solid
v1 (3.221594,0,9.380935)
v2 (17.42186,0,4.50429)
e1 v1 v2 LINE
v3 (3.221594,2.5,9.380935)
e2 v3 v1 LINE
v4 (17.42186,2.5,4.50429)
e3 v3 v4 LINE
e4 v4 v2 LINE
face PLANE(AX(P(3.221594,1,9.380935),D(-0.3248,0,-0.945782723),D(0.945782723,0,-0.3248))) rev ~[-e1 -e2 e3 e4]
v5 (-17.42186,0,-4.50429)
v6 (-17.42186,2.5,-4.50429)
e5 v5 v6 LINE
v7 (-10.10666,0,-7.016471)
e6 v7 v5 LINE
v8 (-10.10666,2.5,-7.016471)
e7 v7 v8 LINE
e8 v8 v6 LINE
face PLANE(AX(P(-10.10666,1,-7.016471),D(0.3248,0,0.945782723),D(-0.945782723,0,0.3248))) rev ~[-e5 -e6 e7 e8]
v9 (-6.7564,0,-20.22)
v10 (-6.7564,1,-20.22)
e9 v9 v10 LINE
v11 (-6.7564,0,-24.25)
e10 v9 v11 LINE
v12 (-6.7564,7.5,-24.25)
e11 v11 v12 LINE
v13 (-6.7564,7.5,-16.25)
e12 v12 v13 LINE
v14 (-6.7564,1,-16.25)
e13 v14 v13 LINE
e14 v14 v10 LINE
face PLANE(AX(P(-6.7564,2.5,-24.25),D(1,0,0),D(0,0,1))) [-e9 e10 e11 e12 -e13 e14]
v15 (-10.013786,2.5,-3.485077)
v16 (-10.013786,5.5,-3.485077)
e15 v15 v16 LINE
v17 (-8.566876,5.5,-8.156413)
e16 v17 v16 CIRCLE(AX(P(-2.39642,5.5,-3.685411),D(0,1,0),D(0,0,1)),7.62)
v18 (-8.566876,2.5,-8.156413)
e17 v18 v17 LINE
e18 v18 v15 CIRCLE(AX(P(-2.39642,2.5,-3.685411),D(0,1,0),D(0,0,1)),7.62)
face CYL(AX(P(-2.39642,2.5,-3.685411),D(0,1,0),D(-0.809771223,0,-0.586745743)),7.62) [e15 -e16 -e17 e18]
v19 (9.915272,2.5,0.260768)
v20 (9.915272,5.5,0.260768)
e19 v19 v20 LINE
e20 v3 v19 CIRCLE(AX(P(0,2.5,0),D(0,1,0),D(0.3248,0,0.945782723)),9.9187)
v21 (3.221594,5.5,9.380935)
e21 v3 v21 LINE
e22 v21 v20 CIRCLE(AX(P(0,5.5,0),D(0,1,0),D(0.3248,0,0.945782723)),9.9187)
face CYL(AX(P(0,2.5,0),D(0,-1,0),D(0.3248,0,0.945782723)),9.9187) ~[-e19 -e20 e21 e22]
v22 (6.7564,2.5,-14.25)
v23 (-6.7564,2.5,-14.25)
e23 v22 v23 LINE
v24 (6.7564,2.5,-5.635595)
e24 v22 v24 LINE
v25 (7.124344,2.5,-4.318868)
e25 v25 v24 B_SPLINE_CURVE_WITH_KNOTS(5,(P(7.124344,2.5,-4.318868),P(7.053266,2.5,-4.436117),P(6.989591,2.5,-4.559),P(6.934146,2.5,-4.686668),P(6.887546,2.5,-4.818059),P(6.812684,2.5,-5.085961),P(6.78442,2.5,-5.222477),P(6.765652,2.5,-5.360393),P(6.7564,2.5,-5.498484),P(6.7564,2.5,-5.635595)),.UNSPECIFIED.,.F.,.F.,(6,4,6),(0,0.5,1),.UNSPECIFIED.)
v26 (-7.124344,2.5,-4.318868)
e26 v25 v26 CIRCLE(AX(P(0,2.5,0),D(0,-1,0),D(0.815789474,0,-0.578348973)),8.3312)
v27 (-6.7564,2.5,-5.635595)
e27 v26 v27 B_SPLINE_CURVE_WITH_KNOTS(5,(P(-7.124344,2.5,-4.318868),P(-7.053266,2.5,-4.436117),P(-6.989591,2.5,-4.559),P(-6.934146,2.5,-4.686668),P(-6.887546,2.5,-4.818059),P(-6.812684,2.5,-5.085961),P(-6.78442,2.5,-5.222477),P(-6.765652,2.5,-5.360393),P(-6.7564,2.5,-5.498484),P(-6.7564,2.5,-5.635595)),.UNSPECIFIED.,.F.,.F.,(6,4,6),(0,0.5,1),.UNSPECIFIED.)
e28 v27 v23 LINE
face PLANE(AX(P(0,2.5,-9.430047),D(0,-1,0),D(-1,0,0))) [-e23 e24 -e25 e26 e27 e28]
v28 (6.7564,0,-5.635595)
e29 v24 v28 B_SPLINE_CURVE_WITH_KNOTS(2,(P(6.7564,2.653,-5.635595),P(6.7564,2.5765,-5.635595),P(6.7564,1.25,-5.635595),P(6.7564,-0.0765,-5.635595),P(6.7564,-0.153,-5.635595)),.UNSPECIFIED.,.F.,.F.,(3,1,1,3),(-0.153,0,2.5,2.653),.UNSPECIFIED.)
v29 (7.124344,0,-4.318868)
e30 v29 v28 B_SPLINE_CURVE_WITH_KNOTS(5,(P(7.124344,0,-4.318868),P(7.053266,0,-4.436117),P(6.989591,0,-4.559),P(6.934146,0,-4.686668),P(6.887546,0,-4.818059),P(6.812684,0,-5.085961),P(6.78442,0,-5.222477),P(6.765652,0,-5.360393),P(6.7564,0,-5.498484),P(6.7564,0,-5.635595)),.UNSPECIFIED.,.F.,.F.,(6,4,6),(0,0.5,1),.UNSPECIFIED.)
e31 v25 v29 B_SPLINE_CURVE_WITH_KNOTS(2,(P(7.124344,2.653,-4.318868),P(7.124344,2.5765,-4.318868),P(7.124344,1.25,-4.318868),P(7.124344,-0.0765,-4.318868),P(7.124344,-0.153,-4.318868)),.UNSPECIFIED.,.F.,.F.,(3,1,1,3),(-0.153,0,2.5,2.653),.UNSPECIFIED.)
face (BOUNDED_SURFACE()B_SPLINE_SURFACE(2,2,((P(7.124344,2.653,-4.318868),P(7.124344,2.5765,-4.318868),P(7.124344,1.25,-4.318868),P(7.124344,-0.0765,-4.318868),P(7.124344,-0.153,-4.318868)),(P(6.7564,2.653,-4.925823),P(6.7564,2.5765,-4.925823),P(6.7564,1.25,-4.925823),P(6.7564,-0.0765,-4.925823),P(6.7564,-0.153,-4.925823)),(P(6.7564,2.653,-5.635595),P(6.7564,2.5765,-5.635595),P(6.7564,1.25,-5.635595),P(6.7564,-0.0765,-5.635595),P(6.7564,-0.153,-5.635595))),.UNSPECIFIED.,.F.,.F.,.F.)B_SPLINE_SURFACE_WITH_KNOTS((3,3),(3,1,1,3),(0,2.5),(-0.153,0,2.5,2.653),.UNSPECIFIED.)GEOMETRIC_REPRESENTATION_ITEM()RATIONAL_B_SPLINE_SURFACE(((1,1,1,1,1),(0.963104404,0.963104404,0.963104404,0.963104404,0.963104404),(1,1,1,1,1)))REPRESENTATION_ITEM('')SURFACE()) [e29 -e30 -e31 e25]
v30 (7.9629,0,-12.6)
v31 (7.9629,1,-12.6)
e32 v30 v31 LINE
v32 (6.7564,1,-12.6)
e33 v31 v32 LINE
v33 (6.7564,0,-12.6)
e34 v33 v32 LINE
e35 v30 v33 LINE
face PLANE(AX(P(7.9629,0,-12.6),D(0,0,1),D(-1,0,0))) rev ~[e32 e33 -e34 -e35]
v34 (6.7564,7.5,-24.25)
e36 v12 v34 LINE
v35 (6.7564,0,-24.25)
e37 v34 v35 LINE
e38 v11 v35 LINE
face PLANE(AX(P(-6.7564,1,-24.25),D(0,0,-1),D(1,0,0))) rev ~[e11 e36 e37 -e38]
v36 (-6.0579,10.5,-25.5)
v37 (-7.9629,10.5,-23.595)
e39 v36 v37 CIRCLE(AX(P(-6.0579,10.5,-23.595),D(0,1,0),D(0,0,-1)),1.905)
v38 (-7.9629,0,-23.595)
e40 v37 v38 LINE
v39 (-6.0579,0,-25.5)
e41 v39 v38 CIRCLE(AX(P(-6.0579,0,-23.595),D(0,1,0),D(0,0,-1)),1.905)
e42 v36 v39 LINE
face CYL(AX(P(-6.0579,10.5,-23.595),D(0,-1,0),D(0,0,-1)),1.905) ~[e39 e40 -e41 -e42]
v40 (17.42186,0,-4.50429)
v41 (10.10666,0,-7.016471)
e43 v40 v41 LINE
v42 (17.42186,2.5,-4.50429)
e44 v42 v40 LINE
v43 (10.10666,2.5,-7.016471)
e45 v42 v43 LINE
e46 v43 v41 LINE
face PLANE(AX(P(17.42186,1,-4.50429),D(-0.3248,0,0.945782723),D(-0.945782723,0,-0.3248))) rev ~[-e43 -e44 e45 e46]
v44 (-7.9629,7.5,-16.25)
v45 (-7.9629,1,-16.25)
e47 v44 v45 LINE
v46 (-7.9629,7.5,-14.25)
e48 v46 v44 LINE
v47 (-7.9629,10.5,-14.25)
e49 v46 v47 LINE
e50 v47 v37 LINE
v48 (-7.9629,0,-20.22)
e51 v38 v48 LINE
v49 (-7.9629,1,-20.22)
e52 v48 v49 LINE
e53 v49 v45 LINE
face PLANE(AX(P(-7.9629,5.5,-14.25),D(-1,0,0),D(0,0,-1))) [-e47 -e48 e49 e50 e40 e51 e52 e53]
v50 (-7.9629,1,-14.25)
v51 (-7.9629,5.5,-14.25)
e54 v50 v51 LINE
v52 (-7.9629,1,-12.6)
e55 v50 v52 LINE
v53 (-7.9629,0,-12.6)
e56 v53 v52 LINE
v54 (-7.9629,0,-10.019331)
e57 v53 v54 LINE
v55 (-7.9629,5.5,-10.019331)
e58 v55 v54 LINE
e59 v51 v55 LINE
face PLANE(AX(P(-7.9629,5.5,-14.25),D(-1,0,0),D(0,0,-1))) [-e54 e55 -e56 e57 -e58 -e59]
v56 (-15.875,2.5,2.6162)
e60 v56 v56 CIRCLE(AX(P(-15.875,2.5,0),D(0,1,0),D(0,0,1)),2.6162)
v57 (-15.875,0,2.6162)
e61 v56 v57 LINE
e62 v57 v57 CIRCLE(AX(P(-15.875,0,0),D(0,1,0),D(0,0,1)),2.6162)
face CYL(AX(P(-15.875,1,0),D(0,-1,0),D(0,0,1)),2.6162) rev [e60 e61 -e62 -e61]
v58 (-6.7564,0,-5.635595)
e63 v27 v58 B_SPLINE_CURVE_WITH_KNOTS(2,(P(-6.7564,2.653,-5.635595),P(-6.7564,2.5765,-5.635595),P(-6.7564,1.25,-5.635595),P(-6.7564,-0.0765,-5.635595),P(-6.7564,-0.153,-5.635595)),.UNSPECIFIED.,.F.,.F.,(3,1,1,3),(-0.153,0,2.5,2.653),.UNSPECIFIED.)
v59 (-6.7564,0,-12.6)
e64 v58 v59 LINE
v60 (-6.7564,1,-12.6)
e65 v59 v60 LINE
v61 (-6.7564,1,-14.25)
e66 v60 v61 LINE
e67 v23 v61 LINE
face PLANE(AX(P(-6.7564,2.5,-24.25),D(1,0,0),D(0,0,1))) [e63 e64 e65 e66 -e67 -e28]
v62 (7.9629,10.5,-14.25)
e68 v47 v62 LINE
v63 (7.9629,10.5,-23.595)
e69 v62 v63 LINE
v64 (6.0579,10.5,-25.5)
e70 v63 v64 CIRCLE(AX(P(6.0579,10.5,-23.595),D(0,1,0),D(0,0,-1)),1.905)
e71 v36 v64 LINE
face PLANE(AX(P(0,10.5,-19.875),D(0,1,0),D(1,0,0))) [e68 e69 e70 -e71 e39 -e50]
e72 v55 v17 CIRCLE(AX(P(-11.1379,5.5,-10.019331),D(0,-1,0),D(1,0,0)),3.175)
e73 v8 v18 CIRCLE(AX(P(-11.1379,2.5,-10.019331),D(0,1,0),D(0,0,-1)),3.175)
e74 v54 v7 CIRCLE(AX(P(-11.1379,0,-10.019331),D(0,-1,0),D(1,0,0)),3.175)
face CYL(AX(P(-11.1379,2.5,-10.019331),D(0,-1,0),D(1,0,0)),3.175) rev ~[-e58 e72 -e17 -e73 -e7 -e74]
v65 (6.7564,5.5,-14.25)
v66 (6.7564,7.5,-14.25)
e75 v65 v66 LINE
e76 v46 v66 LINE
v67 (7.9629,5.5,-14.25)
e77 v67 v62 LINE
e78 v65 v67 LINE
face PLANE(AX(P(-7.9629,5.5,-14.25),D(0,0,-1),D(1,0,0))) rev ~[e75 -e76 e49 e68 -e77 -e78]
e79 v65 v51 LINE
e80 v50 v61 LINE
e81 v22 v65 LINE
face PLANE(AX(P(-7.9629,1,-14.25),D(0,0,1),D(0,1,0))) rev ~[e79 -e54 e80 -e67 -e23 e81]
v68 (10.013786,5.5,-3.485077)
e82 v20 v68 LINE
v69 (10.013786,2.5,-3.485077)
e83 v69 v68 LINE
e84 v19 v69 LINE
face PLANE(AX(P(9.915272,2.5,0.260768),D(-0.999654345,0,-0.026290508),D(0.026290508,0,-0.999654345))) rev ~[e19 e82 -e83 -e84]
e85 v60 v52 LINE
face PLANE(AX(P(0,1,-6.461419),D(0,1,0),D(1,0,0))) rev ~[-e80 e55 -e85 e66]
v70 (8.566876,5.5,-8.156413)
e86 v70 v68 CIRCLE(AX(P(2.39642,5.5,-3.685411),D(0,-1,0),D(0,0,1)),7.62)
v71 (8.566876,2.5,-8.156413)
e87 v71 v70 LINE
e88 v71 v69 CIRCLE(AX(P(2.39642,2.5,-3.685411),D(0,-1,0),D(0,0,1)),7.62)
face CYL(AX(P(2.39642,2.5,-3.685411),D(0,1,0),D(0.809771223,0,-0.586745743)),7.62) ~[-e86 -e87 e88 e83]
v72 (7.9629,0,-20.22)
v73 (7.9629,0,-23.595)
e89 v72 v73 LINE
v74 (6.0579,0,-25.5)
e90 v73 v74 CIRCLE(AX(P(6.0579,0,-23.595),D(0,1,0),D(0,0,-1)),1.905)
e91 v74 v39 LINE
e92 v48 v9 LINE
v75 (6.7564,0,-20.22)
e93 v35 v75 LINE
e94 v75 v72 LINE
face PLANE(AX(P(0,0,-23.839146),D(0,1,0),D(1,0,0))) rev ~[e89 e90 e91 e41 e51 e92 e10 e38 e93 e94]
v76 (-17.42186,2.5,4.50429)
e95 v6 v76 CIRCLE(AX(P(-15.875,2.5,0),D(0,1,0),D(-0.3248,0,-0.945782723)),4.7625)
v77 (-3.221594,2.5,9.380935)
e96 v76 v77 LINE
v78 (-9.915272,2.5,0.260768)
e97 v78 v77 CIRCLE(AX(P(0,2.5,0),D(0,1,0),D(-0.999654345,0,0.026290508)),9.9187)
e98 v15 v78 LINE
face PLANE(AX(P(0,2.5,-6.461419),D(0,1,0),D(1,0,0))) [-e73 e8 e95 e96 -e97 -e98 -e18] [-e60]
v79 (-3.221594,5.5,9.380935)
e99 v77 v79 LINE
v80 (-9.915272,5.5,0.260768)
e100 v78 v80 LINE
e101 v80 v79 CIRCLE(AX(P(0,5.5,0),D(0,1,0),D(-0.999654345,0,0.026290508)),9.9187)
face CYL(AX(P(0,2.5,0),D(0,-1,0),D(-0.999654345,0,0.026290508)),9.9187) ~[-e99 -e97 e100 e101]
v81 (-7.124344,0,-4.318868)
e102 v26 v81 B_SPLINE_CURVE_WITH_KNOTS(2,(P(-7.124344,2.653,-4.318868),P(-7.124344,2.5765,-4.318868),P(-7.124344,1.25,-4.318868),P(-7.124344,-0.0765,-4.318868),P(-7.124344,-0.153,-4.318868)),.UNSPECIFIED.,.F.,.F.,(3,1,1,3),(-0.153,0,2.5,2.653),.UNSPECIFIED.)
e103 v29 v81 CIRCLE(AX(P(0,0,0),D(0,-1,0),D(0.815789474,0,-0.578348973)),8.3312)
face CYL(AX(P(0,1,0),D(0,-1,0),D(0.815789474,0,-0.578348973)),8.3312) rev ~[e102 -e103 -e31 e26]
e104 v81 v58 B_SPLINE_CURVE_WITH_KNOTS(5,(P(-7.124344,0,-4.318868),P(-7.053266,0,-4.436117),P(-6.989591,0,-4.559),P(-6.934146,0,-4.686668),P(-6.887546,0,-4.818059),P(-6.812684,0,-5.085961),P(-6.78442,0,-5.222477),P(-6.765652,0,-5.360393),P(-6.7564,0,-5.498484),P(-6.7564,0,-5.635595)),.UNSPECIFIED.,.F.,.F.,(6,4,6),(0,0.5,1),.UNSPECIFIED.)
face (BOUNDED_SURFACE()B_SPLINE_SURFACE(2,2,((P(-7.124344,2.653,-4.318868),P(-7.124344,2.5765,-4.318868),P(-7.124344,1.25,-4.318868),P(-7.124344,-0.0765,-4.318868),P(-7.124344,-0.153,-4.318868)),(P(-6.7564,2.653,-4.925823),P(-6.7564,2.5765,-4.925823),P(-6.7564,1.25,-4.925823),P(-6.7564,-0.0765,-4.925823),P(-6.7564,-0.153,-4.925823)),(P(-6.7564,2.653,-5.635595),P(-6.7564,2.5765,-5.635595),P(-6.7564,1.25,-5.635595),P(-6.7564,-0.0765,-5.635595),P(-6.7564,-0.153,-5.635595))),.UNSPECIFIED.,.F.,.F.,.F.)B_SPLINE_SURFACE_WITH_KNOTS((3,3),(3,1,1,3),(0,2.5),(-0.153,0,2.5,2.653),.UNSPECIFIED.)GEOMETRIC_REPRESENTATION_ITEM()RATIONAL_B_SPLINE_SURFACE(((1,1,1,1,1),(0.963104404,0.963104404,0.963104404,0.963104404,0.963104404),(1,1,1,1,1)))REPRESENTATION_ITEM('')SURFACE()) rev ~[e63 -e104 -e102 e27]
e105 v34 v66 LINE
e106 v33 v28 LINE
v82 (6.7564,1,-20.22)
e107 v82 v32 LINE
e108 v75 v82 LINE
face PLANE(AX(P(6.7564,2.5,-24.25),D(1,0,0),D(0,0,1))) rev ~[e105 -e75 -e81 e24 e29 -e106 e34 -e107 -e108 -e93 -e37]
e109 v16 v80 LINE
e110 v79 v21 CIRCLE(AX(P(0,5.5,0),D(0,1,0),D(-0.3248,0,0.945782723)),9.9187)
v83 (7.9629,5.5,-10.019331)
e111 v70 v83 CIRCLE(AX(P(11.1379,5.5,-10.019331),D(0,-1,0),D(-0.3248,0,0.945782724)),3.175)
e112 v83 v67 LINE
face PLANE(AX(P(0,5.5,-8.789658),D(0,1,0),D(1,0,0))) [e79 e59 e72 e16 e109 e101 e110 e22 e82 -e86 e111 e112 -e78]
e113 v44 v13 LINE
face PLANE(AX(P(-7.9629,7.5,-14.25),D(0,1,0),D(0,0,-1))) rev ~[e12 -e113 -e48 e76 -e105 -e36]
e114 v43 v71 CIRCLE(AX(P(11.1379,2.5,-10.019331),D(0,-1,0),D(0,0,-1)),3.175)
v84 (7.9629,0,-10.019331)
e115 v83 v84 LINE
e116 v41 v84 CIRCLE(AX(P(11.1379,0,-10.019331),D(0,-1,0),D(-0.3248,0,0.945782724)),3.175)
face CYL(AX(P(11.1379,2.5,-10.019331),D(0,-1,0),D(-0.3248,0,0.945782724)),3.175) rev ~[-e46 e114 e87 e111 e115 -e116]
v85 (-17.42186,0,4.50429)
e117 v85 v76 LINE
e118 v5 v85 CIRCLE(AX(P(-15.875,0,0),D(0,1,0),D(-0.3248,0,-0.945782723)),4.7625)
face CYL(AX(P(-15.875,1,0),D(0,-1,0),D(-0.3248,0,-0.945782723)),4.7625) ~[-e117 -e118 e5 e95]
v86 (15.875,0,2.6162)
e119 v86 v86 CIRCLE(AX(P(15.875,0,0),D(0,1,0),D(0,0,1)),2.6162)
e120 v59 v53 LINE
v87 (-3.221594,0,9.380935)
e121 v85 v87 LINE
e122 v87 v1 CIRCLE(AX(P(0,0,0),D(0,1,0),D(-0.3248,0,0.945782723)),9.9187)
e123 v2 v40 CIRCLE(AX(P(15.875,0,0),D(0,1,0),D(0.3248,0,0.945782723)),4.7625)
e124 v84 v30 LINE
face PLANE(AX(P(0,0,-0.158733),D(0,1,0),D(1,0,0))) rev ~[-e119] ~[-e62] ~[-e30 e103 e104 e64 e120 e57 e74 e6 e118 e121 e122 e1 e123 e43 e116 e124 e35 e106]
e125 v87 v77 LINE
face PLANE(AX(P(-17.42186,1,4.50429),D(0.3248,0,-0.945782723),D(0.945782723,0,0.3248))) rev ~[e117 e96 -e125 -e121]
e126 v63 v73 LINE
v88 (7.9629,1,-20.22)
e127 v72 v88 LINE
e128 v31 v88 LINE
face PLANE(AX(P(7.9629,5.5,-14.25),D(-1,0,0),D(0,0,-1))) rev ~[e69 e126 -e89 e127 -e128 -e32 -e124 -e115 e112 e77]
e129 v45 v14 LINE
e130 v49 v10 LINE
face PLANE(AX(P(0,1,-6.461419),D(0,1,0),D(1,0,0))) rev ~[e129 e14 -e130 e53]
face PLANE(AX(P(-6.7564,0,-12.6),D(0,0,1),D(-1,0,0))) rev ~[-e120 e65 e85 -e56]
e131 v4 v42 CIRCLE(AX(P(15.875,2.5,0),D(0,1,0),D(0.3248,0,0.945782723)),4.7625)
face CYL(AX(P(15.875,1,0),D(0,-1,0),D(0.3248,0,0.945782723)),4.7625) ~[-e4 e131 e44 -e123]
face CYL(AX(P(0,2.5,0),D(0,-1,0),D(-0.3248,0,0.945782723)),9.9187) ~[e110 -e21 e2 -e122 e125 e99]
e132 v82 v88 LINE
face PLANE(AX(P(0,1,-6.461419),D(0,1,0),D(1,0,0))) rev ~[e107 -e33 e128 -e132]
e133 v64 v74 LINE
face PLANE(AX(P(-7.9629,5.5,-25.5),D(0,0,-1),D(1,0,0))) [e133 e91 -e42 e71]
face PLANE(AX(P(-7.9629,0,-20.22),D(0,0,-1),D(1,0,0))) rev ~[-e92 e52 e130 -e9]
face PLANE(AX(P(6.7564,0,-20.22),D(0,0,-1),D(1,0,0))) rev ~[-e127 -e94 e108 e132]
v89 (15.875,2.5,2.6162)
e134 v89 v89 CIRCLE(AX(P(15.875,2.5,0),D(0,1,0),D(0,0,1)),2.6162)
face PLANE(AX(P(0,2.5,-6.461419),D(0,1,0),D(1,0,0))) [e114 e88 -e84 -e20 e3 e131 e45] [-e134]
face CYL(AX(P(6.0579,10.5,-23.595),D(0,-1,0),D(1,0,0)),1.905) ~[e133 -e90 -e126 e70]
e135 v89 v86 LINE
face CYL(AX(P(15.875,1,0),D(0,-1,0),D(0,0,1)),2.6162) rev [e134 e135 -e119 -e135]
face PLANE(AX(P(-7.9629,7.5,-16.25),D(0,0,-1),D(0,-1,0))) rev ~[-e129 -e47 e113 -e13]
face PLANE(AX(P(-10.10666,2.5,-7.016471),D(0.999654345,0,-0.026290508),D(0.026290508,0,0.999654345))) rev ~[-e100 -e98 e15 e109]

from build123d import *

# Parameters (mm, degrees)
BOSS_EXTRUDE1_DEPTH   = 1
SKETCH3_R             = 2.6162
BOSS_EXTRUDE1_2_DEPTH = 1
SKETCH4_R             = 2.6162
BOSS_EXTRUDE2_DEPTH   = 1.5
BOSS_EXTRUDE3_DEPTH   = 3
SKETCH6_W             = 15.9258
SKETCH6_H             = 11.25
BOSS_EXTRUDE4_DEPTH   = 5
SKETCH7_W             = 13.5128
SKETCH7_H             = 10
CUT_EXTRUDE1_DEPTH    = 5
CUT_EXTRUDE2_DEPTH    = 5
FILLET1_R             = 2.54
FILLET2_R             = 2.54
FILLET3_R             = 7.62
FILLET4_R             = 1.905


with BuildPart() as part:
    # Sketch3 → Boss-Extrude1 (new body)
    with BuildSketch(Plane(origin=(0, 0, 0), x_dir=(1, 0, 0), z_dir=(0, 1, 0))):
        Polygon((6.7564, 24.25), (6.7564, 20.22), (7.9629, 20.22), (7.9629, 25.5), (-7.9629, 25.5), (-7.9629, 20.22), (-6.7564, 20.22), (-6.7564, 24.25), align=None)
    extrude(amount=BOSS_EXTRUDE1_DEPTH)



with BuildPart() as body_2:
    # Sketch3 → Boss-Extrude1 2 (new body)
    with BuildSketch(Plane(origin=(0, 0, 0), x_dir=(1, 0, 0), z_dir=(0, 1, 0))):
        with BuildLine():
            Line((6.7564, 12.6), (6.7564, 4.876812672))
            ThreePointArc((6.7564, 4.876812672), (6.776225919, 4.847421317), (6.796505263, 4.818340964))
            ThreePointArc((6.796505263, 4.818340964), (0, -8.3312), (-6.796505263, 4.818340964))
            ThreePointArc((-6.796505263, 4.818340964), (-6.776225919, 4.847421317), (-6.7564, 4.876812672))
            Line((-6.7564, 4.876812672), (-6.7564, 12.6))
            Line((-6.7564, 12.6), (-7.9629, 12.6))
            Line((-7.9629, 12.6), (-7.9629, 10.019330915))
            ThreePointArc((-7.9629, 10.019330915), (-8.553832276, 8.174549356), (-10.10666, 7.016470768))
            Line((-10.10666, 7.016470768), (-17.42186, 4.50429022))
            ThreePointArc((-17.42186, 4.50429022), (-20.6375, 0), (-17.42186, -4.50429022))
            Line((-17.42186, -4.50429022), (-3.22159376, -9.380935099))
            ThreePointArc((-3.22159376, -9.380935099), (0, -9.9187), (3.22159376, -9.380935099))
            Line((3.22159376, -9.380935099), (17.42186, -4.50429022))
            ThreePointArc((17.42186, -4.50429022), (20.6375, 0), (17.42186, 4.50429022))
            Line((17.42186, 4.50429022), (10.10666, 7.016470768))
            ThreePointArc((10.10666, 7.016470768), (8.553832276, 8.174549356), (7.9629, 10.019330915))
            Line((7.9629, 10.019330915), (7.9629, 12.6))
            Line((7.9629, 12.6), (6.7564, 12.6))
        make_face()
        with Locations(Location((-15.875, 0, 0), (0, 0, 270))):
            Circle(SKETCH3_R, mode=Mode.SUBTRACT)
        with Locations(Location((15.875, 0, 0), (0, 0, 270))):
            Circle(SKETCH3_R, mode=Mode.SUBTRACT)
    extrude(amount=BOSS_EXTRUDE1_2_DEPTH)


with BuildPart() as part_1:
    add(part.part)

    add(body_2.part)  # Boss-Extrude2 merges body 2
    # Sketch4 → Boss-Extrude2 (add)
    with BuildSketch(Plane(origin=(0, 1, 0), x_dir=(1, 0, 0), z_dir=(0, 1, 0))):
        with BuildLine():
            Line((7.9629, 20.22), (7.9629, 25.5))
            Line((7.9629, 25.5), (-7.9629, 25.5))
            Line((-7.9629, 25.5), (-7.9629, 20.22))
            Line((-7.9629, 20.22), (-7.9629, 12.6))
            Line((-7.9629, 12.6), (-7.9629, 10.019330915))
            ThreePointArc((-7.9629, 10.019330915), (-8.553832276, 8.174549356), (-10.10666, 7.016470768))
            Line((-10.10666, 7.016470768), (-17.42186, 4.50429022))
            ThreePointArc((-17.42186, 4.50429022), (-20.6375, 0), (-17.42186, -4.50429022))
            Line((-17.42186, -4.50429022), (-3.22159376, -9.380935099))
            ThreePointArc((-3.22159376, -9.380935099), (0, -9.9187), (3.22159376, -9.380935099))
            Line((3.22159376, -9.380935099), (17.42186, -4.50429022))
            ThreePointArc((17.42186, -4.50429022), (20.6375, 0), (17.42186, 4.50429022))
            Line((17.42186, 4.50429022), (10.10666, 7.016470768))
            ThreePointArc((10.10666, 7.016470768), (8.553832276, 8.174549356), (7.9629, 10.019330915))
            Line((7.9629, 10.019330915), (7.9629, 12.6))
            Line((7.9629, 12.6), (7.9629, 20.22))
        make_face()
        with Locations(Location((15.875, 0, 0), (0, 0, 270))):
            Circle(SKETCH4_R, mode=Mode.SUBTRACT)
        with Locations(Location((-15.875, 0, 0), (0, 0, 270))):
            Circle(SKETCH4_R, mode=Mode.SUBTRACT)
        with BuildLine():
            Line((-6.7564, 24.25), (6.7564, 24.25))
            Line((6.7564, 24.25), (6.7564, 20.22))
            Line((6.7564, 20.22), (6.7564, 12.6))
            Line((6.7564, 12.6), (6.7564, 4.876812672))
            ThreePointArc((6.7564, 4.876812672), (6.776225919, 4.847421317), (6.796505263, 4.818340964))
            ThreePointArc((6.796505263, 4.818340964), (0, -8.3312), (-6.796505263, 4.818340964))
            ThreePointArc((-6.796505263, 4.818340964), (-6.776225919, 4.847421317), (-6.7564, 4.876812672))
            Line((-6.7564, 4.876812672), (-6.7564, 12.6))
            Line((-6.7564, 12.6), (-6.7564, 20.22))
            Line((-6.7564, 20.22), (-6.7564, 24.25))
        make_face(mode=Mode.SUBTRACT)
    extrude(amount=BOSS_EXTRUDE2_DEPTH)

    # Sketch5 → Boss-Extrude3 (add)
    # profile 1 of 2: a face of its own
    with BuildSketch(Plane(origin=(0, 2.5, 0), x_dir=(1, 0, 0), z_dir=(0, 1, 0))):
        with BuildLine():
            Line((-10.10666, 7.016470768), (-9.91527155, -0.260767662))
            ThreePointArc((-9.91527155, -0.260767662), (-7.996166023, -5.868725468), (-3.22159376, -9.380935099))
            ThreePointArc((-3.22159376, -9.380935099), (0, -9.9187), (3.22159376, -9.380935099))
            ThreePointArc((3.22159376, -9.380935099), (7.996166023, -5.868725468), (9.91527155, -0.260767662))
            Line((9.91527155, -0.260767662), (10.10666, 7.016470768))
            ThreePointArc((10.10666, 7.016470768), (8.553832276, 8.174549356), (7.9629, 10.019330915))
            Line((7.9629, 10.019330915), (7.9629, 25.5))
            Line((7.9629, 25.5), (-7.9629, 25.5))
            Line((-7.9629, 25.5), (-7.9629, 10.019330915))
            ThreePointArc((-7.9629, 10.019330915), (-8.553832276, 8.174549356), (-10.10666, 7.016470768))
        make_face()
        with BuildLine():
            Line((-6.7564, 4.876812672), (-6.7564, 24.25))
            Line((-6.7564, 24.25), (6.7564, 24.25))
            Line((6.7564, 24.25), (6.7564, 4.876812672))
            ThreePointArc((6.7564, 4.876812672), (6.776225919, 4.847421317), (6.796505263, 4.818340964))
            ThreePointArc((6.796505263, 4.818340964), (0, -8.3312), (-6.796505263, 4.818340964))
            ThreePointArc((-6.796505263, 4.818340964), (-6.776225919, 4.847421317), (-6.7564, 4.876812672))
        make_face(mode=Mode.SUBTRACT)
    # profile 2 of 2: a face of its own
    with BuildSketch(Plane(origin=(0, 2.5, 0), x_dir=(1, 0, 0), z_dir=(0, 1, 0))):
        with BuildLine():
            ThreePointArc((-6.796505263, 4.818340964), (-6.776225919, 4.847421317), (-6.7564, 4.876812672))
            Line((-6.7564, 4.876812672), (-6.7564, 24.25))
            Line((-6.7564, 24.25), (6.7564, 24.25))
            Line((6.7564, 24.25), (6.7564, 4.876812672))
            ThreePointArc((6.7564, 4.876812672), (6.776225919, 4.847421317), (6.796505263, 4.818340964))
            ThreePointArc((6.796505263, 4.818340964), (0, -8.3312), (-6.796505263, 4.818340964))
        make_face()
    extrude(amount=BOSS_EXTRUDE3_DEPTH)

    # Sketch6 → Boss-Extrude4 (add)
    with BuildSketch(Plane(origin=(0, 5.5, 0), x_dir=(1, 0, 0), z_dir=(0, 1, 0))):
        with Locations((0, 19.875)):
            Rectangle(SKETCH6_W, SKETCH6_H)
    extrude(amount=BOSS_EXTRUDE4_DEPTH)

    # Sketch7 → Cut-Extrude1 (cut)
    with BuildSketch(Plane.XZ.offset(-2.5)):
        with Locations((0, -19.25)):
            Rectangle(SKETCH7_W, SKETCH7_H)
    extrude(amount=-CUT_EXTRUDE1_DEPTH, mode=Mode.SUBTRACT)

    # Sketch8 → Cut-Extrude2 (cut)
    with BuildSketch(Plane.ZY.offset(7.9629)):
        Polygon((-16.25, 7.5), (-16.25, 1), (-14.25, 1), (-14.25, 5.5), (-14.25, 7.5), align=None)
    extrude(amount=-CUT_EXTRUDE2_DEPTH, mode=Mode.SUBTRACT)

    # Fillet1
    fillet1_edges = [part_1.edges().sort_by_distance(p)[0] for p in [
        (-6.7564, 1.25, -4.876812672),
    ]]
    fillet(fillet1_edges, radius=FILLET1_R)

    # Fillet2
    fillet2_edges = [part_1.edges().sort_by_distance(p)[0] for p in [
        (6.7564, 1.25, -4.876812672),
    ]]
    fillet(fillet2_edges, radius=FILLET2_R)

    # Fillet3
    fillet3_edges = [part_1.edges().sort_by_distance(p)[0] for p in [
        (10.10666, 4, -7.016470768),
        (-10.10666, 4, -7.016470768),
    ]]
    fillet(fillet3_edges, radius=FILLET3_R)

    # Fillet4
    fillet4_edges = [part_1.edges().sort_by_distance(p)[0] for p in [
        (-7.9629, 5.25, -25.5),
        (7.9629, 5.25, -25.5),
    ]]
    fillet(fillet4_edges, radius=FILLET4_R)


solid = part_1.part
